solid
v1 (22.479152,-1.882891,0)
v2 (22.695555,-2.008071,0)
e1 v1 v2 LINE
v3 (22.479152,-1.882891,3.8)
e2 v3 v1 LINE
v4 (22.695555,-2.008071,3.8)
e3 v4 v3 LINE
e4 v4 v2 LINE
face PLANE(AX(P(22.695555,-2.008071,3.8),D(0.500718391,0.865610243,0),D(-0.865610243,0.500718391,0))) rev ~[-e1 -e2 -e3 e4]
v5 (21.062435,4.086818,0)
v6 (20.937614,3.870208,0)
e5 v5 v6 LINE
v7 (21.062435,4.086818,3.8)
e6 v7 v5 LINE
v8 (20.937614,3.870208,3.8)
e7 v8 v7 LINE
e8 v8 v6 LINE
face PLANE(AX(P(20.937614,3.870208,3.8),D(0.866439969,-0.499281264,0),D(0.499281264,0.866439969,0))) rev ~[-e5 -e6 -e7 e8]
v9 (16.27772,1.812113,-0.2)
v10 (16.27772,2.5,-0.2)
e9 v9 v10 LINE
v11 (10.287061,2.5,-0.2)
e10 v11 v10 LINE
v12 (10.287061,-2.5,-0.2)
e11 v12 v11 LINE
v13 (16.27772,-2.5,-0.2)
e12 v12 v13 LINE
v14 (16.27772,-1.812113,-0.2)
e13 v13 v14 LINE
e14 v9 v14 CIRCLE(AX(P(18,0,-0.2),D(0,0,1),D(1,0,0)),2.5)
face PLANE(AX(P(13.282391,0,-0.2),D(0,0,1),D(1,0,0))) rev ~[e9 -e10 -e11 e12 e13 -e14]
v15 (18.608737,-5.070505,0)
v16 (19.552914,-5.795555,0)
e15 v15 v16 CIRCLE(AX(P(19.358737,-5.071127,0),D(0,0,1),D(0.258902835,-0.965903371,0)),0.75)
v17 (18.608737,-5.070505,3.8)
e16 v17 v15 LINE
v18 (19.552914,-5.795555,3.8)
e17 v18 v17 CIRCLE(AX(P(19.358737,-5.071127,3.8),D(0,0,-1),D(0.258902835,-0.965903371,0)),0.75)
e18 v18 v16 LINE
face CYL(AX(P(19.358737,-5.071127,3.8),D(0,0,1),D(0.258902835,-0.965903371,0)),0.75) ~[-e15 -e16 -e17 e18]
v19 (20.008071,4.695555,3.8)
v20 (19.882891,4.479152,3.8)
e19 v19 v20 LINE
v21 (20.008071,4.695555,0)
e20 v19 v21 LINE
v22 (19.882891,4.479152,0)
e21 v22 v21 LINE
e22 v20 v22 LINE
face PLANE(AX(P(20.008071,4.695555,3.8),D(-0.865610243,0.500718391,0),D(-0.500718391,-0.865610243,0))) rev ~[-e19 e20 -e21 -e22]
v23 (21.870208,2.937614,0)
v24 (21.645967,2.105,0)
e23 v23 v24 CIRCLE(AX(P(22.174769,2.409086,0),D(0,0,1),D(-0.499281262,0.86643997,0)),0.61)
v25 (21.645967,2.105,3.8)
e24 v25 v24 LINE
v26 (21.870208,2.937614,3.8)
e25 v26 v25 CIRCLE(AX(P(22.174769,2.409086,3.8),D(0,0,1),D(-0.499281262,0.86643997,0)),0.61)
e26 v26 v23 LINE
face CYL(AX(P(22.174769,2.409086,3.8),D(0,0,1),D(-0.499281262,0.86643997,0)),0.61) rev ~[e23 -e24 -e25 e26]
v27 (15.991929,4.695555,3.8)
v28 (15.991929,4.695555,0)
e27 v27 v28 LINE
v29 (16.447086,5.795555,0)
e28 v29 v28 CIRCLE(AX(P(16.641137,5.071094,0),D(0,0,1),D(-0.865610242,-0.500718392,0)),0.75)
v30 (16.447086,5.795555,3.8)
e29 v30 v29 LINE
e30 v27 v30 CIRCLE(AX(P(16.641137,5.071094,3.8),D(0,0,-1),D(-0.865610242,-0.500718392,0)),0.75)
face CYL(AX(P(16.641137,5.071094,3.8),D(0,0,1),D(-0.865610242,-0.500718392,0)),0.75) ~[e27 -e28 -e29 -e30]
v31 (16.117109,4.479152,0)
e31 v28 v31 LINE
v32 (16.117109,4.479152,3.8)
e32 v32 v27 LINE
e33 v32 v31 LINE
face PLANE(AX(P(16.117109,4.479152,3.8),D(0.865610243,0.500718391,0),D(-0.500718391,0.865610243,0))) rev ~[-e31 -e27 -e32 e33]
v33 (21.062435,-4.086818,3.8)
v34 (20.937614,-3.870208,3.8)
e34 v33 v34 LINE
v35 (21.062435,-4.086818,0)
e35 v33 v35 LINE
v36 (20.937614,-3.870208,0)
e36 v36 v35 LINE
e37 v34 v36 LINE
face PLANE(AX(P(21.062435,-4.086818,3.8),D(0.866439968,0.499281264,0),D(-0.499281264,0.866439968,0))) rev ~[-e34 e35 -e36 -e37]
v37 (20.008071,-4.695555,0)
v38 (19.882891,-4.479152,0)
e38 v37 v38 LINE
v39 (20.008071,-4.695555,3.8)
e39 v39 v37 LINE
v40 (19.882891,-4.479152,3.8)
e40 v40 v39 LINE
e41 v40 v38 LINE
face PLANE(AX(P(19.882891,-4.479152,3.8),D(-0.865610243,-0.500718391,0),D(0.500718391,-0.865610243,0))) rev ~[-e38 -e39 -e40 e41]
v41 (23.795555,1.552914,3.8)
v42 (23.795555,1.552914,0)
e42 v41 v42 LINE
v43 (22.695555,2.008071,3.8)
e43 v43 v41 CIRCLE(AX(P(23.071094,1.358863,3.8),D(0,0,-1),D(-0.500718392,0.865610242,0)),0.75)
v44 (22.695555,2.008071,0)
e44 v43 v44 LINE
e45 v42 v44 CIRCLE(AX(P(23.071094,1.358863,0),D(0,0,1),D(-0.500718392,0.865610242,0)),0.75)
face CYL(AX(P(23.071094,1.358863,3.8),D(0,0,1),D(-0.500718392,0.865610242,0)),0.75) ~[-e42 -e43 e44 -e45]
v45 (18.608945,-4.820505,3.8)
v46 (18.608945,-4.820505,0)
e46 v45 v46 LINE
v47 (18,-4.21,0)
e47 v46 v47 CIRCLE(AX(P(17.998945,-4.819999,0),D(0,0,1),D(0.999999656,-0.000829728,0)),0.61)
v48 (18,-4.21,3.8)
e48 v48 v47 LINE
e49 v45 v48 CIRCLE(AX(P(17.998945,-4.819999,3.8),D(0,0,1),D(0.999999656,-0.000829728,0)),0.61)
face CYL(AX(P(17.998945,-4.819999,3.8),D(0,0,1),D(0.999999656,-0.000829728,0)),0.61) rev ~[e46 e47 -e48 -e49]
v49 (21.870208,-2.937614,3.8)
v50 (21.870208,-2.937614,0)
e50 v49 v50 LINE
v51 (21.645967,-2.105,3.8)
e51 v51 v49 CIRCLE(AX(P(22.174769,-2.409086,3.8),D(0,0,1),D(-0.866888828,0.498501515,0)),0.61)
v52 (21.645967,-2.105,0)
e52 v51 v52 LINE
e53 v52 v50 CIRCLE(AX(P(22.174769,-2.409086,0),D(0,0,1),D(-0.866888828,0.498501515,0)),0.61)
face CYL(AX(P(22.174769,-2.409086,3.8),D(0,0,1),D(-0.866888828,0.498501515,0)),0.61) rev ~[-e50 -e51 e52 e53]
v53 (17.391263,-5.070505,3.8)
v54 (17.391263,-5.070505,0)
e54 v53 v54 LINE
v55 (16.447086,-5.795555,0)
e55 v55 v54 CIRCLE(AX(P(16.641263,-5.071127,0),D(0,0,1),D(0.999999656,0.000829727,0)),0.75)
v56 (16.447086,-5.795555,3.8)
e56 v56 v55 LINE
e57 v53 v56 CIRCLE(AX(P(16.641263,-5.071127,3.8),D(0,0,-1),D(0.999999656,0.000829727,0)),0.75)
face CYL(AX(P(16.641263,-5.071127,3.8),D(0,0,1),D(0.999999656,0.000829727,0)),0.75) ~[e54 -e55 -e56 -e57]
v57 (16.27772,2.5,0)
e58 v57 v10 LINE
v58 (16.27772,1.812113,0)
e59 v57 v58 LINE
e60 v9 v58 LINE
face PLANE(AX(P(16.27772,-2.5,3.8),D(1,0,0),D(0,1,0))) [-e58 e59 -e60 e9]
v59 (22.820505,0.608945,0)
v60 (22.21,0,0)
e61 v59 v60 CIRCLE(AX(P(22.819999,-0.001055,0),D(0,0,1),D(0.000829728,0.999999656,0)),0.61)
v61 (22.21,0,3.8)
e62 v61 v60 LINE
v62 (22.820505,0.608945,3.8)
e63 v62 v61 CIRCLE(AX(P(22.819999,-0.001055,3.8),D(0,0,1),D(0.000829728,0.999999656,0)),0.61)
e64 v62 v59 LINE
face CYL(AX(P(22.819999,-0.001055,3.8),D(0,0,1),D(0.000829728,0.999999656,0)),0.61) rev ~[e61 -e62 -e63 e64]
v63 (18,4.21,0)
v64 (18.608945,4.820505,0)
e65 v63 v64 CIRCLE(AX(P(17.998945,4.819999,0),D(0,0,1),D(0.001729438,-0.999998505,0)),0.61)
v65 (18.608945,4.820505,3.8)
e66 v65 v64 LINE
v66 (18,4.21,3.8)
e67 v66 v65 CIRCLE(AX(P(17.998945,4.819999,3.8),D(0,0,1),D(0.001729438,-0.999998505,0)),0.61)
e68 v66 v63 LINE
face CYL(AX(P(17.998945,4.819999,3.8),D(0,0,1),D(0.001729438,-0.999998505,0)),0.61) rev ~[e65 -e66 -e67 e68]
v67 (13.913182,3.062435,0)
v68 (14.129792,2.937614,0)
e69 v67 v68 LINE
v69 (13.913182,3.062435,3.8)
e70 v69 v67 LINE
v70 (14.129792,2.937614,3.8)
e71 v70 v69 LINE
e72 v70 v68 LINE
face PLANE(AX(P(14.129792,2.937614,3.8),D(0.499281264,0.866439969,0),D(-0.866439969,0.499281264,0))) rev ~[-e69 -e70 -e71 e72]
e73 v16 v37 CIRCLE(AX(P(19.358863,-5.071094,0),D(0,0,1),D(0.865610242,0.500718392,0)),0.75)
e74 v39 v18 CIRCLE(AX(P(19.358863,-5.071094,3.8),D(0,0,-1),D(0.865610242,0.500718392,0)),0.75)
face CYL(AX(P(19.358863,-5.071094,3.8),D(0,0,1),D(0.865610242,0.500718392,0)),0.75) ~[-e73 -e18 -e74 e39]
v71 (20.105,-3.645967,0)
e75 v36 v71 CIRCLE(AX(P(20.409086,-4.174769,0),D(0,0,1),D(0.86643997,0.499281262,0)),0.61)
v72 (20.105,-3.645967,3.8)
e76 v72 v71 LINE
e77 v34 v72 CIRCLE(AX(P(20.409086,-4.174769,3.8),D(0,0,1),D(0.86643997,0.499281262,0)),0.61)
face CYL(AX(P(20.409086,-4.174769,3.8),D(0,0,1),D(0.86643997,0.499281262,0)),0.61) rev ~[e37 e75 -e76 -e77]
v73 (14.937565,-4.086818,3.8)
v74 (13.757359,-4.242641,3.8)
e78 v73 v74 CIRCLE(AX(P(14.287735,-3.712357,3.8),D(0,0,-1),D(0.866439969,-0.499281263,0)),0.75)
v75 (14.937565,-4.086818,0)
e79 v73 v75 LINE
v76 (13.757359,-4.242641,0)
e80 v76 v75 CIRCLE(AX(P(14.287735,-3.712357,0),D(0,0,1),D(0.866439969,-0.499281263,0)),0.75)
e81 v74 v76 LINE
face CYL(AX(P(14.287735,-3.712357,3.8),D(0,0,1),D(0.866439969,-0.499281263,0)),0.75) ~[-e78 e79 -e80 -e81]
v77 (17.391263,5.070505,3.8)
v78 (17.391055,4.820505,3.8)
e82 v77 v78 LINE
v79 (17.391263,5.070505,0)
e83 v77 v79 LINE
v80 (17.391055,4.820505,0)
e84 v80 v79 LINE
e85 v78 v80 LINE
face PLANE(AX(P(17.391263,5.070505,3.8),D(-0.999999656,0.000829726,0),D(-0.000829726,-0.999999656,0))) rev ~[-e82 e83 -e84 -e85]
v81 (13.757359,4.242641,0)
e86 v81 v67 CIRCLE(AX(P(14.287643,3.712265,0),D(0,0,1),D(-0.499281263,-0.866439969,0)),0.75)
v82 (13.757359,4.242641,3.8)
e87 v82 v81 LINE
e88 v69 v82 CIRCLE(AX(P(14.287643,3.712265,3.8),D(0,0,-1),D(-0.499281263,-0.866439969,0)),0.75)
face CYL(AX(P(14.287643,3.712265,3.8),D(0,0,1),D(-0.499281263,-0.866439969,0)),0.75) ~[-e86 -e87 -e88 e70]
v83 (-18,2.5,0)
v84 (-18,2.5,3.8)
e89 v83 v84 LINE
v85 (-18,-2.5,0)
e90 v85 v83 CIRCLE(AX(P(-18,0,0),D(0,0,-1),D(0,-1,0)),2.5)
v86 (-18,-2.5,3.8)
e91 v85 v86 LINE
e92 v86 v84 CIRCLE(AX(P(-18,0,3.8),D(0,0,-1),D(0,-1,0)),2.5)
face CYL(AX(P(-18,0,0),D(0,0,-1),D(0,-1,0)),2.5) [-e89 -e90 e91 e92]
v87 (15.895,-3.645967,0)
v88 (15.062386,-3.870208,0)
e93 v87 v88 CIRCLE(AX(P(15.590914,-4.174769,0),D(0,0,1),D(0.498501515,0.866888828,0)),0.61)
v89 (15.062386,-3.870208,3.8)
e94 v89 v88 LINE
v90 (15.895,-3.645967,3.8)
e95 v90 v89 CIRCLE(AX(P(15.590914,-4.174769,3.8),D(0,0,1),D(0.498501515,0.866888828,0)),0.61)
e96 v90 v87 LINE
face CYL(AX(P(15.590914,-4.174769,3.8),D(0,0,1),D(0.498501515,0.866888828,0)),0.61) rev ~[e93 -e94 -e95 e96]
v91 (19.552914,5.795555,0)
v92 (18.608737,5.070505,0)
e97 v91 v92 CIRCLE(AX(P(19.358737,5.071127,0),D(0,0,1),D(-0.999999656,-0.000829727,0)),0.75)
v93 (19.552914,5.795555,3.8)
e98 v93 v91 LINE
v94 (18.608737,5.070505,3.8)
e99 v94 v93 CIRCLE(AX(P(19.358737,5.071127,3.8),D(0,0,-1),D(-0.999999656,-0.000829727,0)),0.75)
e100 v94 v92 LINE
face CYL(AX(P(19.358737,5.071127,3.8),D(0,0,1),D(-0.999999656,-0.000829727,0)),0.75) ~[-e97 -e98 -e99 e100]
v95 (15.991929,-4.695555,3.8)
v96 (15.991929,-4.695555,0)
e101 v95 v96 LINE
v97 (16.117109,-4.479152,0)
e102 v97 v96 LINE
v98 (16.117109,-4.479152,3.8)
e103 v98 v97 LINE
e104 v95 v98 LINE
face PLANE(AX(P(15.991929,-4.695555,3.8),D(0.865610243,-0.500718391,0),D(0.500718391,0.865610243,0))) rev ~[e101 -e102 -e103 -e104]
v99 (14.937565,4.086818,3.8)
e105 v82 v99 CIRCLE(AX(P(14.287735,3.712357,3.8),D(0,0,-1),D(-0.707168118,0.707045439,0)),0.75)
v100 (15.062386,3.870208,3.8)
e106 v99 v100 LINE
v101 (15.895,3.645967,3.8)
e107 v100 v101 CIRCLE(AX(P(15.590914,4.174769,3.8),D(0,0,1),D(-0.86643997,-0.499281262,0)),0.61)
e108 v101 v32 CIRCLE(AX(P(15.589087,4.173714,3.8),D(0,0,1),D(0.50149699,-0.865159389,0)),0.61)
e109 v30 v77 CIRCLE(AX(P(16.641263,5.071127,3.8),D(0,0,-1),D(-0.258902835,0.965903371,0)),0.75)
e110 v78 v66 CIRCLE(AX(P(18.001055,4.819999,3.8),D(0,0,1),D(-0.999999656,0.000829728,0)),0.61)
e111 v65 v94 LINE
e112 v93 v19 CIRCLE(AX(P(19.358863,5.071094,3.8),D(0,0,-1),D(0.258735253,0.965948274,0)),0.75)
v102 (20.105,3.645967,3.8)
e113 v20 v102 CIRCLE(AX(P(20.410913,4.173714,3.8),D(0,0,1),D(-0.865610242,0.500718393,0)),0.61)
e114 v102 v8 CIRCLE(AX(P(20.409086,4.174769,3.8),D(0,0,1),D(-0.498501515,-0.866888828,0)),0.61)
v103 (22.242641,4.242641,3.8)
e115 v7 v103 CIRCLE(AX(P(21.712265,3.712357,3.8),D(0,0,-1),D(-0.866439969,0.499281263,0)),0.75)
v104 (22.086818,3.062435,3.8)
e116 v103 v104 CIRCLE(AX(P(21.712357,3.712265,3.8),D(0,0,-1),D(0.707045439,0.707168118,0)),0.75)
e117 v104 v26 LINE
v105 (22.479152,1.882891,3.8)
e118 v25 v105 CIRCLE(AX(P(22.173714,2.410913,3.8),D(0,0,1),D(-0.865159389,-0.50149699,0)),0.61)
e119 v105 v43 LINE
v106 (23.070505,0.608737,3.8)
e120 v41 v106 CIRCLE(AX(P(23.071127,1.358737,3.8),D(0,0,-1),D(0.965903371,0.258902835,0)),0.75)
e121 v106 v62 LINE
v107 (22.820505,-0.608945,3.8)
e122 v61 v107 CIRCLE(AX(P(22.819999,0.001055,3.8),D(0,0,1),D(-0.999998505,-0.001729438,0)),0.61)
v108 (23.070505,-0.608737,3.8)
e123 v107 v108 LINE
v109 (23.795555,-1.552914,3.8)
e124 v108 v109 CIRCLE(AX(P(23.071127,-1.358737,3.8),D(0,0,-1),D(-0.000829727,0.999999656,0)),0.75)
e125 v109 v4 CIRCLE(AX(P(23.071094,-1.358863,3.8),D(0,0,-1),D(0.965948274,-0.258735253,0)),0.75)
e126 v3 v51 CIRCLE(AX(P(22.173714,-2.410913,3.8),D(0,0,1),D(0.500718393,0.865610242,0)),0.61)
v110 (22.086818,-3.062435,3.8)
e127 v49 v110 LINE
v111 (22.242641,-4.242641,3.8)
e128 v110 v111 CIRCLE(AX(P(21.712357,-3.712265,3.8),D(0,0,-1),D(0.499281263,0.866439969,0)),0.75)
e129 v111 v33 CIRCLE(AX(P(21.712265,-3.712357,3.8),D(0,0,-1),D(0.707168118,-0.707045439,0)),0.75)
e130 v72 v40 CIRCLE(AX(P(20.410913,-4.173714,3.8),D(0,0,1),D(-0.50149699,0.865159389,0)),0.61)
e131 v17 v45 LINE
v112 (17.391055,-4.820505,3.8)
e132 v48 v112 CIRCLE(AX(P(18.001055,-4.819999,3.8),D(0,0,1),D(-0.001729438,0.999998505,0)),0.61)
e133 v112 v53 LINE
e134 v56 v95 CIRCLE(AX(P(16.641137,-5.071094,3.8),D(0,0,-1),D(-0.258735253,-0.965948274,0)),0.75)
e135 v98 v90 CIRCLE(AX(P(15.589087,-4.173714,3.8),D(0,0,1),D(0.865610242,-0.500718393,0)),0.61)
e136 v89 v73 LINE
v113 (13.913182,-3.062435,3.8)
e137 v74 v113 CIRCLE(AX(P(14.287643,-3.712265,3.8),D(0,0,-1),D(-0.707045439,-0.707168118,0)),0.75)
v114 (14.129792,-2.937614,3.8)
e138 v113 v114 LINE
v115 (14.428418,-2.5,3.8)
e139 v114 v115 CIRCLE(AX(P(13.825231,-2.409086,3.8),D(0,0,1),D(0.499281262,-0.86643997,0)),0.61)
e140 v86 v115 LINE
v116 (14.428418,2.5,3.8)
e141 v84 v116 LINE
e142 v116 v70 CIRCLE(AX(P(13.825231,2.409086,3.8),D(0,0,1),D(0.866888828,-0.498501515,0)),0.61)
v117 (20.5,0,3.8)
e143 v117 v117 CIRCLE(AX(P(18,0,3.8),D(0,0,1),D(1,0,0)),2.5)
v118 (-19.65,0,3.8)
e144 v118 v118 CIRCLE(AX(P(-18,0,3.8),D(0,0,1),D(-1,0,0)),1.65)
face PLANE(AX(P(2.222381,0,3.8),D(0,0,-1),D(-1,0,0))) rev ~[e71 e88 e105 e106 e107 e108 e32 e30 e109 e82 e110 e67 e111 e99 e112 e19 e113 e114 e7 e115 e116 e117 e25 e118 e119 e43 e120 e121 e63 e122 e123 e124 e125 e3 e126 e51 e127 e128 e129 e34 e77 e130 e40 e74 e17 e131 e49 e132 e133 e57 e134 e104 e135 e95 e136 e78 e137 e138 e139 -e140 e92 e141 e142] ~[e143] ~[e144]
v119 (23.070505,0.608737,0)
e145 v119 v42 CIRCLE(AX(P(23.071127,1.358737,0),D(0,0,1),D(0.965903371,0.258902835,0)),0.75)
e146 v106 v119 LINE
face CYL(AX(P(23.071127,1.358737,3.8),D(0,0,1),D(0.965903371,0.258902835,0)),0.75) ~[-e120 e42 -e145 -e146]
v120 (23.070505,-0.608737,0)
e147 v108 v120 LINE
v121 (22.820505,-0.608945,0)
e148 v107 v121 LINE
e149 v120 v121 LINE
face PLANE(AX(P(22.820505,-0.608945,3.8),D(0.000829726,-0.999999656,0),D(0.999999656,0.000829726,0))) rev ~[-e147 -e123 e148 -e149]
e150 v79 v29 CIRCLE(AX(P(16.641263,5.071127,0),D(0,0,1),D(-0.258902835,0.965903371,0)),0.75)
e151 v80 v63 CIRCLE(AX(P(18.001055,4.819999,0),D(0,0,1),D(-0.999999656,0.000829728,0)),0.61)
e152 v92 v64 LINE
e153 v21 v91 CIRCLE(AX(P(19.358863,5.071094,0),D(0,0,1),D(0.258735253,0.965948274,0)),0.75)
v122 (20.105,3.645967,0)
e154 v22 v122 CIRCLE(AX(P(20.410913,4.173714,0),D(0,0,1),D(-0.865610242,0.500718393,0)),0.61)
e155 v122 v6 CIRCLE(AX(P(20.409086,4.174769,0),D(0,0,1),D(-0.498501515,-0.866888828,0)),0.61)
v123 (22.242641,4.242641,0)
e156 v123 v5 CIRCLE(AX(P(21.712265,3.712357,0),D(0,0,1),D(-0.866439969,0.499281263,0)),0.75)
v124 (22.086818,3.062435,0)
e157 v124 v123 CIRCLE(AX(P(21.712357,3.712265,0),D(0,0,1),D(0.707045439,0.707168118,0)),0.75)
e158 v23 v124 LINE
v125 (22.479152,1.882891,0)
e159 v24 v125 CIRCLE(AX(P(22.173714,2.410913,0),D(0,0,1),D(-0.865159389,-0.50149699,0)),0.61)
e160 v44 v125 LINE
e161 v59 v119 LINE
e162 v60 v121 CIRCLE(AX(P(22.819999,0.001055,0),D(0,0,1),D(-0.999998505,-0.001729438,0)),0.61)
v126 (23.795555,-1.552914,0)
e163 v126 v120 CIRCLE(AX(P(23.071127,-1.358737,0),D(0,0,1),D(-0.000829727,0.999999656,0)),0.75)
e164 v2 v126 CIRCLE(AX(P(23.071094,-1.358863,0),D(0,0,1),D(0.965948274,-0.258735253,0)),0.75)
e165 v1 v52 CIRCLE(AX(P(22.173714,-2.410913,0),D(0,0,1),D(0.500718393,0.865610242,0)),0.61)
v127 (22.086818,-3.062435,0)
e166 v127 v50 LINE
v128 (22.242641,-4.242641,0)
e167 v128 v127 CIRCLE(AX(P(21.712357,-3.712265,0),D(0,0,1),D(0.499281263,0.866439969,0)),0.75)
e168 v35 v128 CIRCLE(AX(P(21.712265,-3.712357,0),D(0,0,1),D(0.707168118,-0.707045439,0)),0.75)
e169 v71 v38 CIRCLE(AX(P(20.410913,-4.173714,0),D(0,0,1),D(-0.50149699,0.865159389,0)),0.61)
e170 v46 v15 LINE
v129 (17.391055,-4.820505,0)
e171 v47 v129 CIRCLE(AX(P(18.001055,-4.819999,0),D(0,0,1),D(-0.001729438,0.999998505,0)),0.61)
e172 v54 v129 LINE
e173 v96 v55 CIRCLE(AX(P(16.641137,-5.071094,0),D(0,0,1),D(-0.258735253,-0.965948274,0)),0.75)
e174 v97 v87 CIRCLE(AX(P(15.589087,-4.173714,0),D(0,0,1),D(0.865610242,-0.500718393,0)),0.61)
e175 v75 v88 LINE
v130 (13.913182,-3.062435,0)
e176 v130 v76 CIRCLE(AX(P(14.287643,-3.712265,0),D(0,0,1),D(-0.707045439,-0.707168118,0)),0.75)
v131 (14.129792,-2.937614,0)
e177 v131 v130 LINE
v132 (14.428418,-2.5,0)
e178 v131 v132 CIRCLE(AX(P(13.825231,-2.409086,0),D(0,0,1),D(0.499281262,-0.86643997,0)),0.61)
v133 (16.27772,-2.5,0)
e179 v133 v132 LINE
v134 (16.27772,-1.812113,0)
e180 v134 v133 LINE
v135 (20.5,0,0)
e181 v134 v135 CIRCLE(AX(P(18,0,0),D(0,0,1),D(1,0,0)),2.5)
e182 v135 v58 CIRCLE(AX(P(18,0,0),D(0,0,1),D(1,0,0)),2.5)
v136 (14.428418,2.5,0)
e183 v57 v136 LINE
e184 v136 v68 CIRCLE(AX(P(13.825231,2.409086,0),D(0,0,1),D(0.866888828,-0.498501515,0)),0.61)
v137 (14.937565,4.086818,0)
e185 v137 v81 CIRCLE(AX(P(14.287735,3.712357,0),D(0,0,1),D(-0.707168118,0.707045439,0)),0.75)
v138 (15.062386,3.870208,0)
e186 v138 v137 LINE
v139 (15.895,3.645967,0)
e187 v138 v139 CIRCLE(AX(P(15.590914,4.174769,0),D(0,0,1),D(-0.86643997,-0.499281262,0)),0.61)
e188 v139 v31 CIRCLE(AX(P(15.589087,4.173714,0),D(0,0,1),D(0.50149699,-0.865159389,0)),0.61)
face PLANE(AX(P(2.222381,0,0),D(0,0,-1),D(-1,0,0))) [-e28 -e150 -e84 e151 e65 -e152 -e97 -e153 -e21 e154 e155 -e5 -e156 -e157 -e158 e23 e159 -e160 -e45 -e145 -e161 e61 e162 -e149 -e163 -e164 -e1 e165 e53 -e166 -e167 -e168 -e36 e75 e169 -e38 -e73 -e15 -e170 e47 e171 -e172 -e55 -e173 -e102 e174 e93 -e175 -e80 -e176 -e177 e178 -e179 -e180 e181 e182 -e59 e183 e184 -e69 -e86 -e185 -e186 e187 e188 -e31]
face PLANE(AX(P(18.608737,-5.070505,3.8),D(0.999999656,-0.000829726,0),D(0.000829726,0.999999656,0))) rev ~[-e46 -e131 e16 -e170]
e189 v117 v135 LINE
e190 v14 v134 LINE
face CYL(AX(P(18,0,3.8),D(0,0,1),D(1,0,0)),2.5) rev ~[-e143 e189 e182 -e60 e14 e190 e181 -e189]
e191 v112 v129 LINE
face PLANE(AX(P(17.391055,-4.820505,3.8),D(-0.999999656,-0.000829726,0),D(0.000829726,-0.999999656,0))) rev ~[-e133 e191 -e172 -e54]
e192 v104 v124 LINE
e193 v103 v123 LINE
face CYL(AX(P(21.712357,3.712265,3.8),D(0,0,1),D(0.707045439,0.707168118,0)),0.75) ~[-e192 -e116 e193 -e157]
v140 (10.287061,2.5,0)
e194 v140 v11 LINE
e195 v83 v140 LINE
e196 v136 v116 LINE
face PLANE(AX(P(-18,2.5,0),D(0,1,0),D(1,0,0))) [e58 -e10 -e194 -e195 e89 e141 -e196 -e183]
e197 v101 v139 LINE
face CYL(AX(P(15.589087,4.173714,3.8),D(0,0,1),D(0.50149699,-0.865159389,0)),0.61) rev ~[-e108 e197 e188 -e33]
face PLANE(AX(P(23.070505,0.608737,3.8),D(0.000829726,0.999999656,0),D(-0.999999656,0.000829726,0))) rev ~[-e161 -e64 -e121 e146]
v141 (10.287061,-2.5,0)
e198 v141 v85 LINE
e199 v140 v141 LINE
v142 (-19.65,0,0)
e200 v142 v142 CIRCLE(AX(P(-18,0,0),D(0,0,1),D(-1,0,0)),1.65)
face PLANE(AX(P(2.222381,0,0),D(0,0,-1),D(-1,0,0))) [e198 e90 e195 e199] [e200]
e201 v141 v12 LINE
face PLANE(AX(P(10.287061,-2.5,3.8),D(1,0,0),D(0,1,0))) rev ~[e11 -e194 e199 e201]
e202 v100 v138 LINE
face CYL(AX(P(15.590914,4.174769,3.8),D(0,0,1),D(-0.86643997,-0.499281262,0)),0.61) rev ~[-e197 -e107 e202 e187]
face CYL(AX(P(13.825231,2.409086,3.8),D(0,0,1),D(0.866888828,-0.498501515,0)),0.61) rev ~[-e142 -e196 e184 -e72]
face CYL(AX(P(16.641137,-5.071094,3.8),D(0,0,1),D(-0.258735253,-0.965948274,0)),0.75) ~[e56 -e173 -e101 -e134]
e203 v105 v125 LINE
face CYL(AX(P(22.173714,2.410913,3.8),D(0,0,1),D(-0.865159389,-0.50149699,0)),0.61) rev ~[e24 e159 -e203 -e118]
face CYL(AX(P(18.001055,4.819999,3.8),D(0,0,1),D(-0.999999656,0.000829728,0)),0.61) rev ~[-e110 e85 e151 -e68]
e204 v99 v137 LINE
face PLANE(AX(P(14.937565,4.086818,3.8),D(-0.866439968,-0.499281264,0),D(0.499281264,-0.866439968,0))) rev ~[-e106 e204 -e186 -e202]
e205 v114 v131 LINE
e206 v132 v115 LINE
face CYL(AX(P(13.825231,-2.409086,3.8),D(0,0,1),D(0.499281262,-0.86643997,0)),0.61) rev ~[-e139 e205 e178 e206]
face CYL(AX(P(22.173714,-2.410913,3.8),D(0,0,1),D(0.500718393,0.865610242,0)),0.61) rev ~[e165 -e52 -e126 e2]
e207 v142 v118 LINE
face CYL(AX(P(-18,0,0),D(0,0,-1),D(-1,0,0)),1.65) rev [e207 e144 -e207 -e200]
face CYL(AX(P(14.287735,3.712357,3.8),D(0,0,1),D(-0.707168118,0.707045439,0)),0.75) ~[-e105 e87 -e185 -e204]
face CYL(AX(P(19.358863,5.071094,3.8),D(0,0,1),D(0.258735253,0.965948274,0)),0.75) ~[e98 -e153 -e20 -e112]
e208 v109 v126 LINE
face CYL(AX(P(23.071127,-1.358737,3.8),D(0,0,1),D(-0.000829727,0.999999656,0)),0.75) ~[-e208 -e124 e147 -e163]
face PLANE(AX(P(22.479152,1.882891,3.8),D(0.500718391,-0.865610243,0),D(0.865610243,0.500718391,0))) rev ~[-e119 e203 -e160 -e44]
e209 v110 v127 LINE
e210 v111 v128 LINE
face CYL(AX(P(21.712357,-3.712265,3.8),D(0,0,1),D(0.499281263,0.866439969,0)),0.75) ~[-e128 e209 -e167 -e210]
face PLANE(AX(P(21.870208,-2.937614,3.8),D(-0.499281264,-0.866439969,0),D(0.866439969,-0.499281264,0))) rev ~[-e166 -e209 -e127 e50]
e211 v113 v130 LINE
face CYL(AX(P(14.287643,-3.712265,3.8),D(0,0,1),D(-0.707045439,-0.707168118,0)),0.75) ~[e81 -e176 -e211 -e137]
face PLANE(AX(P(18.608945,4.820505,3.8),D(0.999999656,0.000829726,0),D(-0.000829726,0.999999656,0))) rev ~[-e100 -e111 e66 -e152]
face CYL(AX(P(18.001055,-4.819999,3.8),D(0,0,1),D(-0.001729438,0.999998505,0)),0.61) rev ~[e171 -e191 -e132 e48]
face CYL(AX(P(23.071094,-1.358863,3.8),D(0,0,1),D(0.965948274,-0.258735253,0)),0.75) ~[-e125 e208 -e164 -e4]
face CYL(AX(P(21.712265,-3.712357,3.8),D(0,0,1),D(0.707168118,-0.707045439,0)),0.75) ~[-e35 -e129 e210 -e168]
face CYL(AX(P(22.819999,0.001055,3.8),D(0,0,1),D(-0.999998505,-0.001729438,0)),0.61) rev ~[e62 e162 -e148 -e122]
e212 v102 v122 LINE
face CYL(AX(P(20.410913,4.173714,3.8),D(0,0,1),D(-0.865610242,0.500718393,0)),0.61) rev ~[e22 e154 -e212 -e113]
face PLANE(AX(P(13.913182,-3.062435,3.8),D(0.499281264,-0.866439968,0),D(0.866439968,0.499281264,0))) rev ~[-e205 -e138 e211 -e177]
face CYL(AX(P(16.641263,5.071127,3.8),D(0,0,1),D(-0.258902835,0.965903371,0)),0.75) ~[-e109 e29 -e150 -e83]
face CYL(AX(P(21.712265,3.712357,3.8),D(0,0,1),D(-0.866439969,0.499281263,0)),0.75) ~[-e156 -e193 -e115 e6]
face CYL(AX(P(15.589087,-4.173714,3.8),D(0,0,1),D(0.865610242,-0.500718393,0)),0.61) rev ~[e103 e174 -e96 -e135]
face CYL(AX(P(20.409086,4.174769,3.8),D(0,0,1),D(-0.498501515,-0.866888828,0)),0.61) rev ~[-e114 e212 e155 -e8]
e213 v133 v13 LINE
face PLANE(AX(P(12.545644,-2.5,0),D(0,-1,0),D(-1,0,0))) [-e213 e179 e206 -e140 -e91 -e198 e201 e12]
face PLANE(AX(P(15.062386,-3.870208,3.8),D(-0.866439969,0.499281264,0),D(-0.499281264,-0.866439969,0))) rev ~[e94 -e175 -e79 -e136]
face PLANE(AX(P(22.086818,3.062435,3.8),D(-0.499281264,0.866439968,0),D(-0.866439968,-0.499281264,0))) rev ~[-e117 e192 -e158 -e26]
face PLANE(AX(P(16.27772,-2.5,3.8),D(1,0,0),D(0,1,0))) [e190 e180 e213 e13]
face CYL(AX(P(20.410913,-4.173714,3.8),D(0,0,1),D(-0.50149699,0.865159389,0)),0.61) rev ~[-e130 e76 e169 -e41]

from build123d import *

# Parameters (mm, degrees)
SKETCH1_R           = 1.65
BOSS_EXTRUDE1_DEPTH = 3.8
CUT_EXTRUDE1_DEPTH  = 26.02878343
CIRPATTERN1_COUNT   = 12
SKETCH3_W           = 5.990659071
SKETCH3_H           = 5
BOSS_EXTRUDE2_DEPTH = 4
SKETCH4_R           = 2.5
CUT_EXTRUDE2_DEPTH  = 25.846159393


with BuildPart() as part:
    # Sketch1 → Boss-Extrude1 (new body)
    with BuildSketch(Plane.XY):
        with BuildLine():
            Line((-18, 2.5), (12.545643943, 2.5))
            ThreePointArc((12.545643943, 2.5), (24, 0), (12.545643943, -2.5))
            Line((12.545643943, -2.5), (-18, -2.5))
            ThreePointArc((-18, -2.5), (-20.5, 0), (-18, 2.5))
        make_face()
        with Locations(Location((-18, 0, 0), (0, 0, 180))):
            Circle(SKETCH1_R, mode=Mode.SUBTRACT)
    extrude(amount=BOSS_EXTRUDE1_DEPTH)

    # Sketch2 → Cut-Extrude1 (cut, through all)
    with BuildSketch(Plane.XY.offset(3.8)):
        with BuildLine():
            Line((20.008070513, 4.695554958), (19.882890915, 4.479152397))
            ThreePointArc((19.882890915, 4.479152397), (19.821496871, 4.016588638), (20.105, 3.64596695))
            ThreePointArc((20.105, 3.64596695), (20.567719361, 3.585756883), (20.937614306, 3.870207564))
            Line((20.937614306, 3.870207564), (21.062434622, 4.086817556))
            ThreePointArc((21.062434622, 4.086817556), (21.614093727, 4.455903836), (22.242640687, 4.242640687))
            ThreePointArc((22.242640687, 4.242640687), (21.131352886, 5.423662295), (19.552914271, 5.795554958))
            ThreePointArc((19.552914271, 5.795554958), (20.051879055, 5.357848898), (20.008070513, 4.695554958))
        make_face()
    cut_extrude1 = extrude(amount=-CUT_EXTRUDE1_DEPTH, mode=Mode.SUBTRACT)

    # CirPattern1: Cut-Extrude1 ×12 about axis
    cirpattern1_axis = Axis((18, 0, 0), (0, 0, 1))
    for i in range(1, CIRPATTERN1_COUNT):
        add(cut_extrude1.rotate(cirpattern1_axis, i * 360 / CIRPATTERN1_COUNT), mode=Mode.SUBTRACT)

    # Sketch3 → Boss-Extrude2 (add)
    with BuildSketch(Plane.XY.offset(3.8)):
        with Locations((13.282390893, 0)):
            Rectangle(SKETCH3_W, SKETCH3_H)
    extrude(amount=-BOSS_EXTRUDE2_DEPTH)

    # Sketch4 → Cut-Extrude2 (cut, through all)
    with BuildSketch(Plane.XY.offset(3.8)):
        with Locations((18, 0)):
            Circle(SKETCH4_R)
    extrude(amount=-CUT_EXTRUDE2_DEPTH, mode=Mode.SUBTRACT)


solid = part.part
